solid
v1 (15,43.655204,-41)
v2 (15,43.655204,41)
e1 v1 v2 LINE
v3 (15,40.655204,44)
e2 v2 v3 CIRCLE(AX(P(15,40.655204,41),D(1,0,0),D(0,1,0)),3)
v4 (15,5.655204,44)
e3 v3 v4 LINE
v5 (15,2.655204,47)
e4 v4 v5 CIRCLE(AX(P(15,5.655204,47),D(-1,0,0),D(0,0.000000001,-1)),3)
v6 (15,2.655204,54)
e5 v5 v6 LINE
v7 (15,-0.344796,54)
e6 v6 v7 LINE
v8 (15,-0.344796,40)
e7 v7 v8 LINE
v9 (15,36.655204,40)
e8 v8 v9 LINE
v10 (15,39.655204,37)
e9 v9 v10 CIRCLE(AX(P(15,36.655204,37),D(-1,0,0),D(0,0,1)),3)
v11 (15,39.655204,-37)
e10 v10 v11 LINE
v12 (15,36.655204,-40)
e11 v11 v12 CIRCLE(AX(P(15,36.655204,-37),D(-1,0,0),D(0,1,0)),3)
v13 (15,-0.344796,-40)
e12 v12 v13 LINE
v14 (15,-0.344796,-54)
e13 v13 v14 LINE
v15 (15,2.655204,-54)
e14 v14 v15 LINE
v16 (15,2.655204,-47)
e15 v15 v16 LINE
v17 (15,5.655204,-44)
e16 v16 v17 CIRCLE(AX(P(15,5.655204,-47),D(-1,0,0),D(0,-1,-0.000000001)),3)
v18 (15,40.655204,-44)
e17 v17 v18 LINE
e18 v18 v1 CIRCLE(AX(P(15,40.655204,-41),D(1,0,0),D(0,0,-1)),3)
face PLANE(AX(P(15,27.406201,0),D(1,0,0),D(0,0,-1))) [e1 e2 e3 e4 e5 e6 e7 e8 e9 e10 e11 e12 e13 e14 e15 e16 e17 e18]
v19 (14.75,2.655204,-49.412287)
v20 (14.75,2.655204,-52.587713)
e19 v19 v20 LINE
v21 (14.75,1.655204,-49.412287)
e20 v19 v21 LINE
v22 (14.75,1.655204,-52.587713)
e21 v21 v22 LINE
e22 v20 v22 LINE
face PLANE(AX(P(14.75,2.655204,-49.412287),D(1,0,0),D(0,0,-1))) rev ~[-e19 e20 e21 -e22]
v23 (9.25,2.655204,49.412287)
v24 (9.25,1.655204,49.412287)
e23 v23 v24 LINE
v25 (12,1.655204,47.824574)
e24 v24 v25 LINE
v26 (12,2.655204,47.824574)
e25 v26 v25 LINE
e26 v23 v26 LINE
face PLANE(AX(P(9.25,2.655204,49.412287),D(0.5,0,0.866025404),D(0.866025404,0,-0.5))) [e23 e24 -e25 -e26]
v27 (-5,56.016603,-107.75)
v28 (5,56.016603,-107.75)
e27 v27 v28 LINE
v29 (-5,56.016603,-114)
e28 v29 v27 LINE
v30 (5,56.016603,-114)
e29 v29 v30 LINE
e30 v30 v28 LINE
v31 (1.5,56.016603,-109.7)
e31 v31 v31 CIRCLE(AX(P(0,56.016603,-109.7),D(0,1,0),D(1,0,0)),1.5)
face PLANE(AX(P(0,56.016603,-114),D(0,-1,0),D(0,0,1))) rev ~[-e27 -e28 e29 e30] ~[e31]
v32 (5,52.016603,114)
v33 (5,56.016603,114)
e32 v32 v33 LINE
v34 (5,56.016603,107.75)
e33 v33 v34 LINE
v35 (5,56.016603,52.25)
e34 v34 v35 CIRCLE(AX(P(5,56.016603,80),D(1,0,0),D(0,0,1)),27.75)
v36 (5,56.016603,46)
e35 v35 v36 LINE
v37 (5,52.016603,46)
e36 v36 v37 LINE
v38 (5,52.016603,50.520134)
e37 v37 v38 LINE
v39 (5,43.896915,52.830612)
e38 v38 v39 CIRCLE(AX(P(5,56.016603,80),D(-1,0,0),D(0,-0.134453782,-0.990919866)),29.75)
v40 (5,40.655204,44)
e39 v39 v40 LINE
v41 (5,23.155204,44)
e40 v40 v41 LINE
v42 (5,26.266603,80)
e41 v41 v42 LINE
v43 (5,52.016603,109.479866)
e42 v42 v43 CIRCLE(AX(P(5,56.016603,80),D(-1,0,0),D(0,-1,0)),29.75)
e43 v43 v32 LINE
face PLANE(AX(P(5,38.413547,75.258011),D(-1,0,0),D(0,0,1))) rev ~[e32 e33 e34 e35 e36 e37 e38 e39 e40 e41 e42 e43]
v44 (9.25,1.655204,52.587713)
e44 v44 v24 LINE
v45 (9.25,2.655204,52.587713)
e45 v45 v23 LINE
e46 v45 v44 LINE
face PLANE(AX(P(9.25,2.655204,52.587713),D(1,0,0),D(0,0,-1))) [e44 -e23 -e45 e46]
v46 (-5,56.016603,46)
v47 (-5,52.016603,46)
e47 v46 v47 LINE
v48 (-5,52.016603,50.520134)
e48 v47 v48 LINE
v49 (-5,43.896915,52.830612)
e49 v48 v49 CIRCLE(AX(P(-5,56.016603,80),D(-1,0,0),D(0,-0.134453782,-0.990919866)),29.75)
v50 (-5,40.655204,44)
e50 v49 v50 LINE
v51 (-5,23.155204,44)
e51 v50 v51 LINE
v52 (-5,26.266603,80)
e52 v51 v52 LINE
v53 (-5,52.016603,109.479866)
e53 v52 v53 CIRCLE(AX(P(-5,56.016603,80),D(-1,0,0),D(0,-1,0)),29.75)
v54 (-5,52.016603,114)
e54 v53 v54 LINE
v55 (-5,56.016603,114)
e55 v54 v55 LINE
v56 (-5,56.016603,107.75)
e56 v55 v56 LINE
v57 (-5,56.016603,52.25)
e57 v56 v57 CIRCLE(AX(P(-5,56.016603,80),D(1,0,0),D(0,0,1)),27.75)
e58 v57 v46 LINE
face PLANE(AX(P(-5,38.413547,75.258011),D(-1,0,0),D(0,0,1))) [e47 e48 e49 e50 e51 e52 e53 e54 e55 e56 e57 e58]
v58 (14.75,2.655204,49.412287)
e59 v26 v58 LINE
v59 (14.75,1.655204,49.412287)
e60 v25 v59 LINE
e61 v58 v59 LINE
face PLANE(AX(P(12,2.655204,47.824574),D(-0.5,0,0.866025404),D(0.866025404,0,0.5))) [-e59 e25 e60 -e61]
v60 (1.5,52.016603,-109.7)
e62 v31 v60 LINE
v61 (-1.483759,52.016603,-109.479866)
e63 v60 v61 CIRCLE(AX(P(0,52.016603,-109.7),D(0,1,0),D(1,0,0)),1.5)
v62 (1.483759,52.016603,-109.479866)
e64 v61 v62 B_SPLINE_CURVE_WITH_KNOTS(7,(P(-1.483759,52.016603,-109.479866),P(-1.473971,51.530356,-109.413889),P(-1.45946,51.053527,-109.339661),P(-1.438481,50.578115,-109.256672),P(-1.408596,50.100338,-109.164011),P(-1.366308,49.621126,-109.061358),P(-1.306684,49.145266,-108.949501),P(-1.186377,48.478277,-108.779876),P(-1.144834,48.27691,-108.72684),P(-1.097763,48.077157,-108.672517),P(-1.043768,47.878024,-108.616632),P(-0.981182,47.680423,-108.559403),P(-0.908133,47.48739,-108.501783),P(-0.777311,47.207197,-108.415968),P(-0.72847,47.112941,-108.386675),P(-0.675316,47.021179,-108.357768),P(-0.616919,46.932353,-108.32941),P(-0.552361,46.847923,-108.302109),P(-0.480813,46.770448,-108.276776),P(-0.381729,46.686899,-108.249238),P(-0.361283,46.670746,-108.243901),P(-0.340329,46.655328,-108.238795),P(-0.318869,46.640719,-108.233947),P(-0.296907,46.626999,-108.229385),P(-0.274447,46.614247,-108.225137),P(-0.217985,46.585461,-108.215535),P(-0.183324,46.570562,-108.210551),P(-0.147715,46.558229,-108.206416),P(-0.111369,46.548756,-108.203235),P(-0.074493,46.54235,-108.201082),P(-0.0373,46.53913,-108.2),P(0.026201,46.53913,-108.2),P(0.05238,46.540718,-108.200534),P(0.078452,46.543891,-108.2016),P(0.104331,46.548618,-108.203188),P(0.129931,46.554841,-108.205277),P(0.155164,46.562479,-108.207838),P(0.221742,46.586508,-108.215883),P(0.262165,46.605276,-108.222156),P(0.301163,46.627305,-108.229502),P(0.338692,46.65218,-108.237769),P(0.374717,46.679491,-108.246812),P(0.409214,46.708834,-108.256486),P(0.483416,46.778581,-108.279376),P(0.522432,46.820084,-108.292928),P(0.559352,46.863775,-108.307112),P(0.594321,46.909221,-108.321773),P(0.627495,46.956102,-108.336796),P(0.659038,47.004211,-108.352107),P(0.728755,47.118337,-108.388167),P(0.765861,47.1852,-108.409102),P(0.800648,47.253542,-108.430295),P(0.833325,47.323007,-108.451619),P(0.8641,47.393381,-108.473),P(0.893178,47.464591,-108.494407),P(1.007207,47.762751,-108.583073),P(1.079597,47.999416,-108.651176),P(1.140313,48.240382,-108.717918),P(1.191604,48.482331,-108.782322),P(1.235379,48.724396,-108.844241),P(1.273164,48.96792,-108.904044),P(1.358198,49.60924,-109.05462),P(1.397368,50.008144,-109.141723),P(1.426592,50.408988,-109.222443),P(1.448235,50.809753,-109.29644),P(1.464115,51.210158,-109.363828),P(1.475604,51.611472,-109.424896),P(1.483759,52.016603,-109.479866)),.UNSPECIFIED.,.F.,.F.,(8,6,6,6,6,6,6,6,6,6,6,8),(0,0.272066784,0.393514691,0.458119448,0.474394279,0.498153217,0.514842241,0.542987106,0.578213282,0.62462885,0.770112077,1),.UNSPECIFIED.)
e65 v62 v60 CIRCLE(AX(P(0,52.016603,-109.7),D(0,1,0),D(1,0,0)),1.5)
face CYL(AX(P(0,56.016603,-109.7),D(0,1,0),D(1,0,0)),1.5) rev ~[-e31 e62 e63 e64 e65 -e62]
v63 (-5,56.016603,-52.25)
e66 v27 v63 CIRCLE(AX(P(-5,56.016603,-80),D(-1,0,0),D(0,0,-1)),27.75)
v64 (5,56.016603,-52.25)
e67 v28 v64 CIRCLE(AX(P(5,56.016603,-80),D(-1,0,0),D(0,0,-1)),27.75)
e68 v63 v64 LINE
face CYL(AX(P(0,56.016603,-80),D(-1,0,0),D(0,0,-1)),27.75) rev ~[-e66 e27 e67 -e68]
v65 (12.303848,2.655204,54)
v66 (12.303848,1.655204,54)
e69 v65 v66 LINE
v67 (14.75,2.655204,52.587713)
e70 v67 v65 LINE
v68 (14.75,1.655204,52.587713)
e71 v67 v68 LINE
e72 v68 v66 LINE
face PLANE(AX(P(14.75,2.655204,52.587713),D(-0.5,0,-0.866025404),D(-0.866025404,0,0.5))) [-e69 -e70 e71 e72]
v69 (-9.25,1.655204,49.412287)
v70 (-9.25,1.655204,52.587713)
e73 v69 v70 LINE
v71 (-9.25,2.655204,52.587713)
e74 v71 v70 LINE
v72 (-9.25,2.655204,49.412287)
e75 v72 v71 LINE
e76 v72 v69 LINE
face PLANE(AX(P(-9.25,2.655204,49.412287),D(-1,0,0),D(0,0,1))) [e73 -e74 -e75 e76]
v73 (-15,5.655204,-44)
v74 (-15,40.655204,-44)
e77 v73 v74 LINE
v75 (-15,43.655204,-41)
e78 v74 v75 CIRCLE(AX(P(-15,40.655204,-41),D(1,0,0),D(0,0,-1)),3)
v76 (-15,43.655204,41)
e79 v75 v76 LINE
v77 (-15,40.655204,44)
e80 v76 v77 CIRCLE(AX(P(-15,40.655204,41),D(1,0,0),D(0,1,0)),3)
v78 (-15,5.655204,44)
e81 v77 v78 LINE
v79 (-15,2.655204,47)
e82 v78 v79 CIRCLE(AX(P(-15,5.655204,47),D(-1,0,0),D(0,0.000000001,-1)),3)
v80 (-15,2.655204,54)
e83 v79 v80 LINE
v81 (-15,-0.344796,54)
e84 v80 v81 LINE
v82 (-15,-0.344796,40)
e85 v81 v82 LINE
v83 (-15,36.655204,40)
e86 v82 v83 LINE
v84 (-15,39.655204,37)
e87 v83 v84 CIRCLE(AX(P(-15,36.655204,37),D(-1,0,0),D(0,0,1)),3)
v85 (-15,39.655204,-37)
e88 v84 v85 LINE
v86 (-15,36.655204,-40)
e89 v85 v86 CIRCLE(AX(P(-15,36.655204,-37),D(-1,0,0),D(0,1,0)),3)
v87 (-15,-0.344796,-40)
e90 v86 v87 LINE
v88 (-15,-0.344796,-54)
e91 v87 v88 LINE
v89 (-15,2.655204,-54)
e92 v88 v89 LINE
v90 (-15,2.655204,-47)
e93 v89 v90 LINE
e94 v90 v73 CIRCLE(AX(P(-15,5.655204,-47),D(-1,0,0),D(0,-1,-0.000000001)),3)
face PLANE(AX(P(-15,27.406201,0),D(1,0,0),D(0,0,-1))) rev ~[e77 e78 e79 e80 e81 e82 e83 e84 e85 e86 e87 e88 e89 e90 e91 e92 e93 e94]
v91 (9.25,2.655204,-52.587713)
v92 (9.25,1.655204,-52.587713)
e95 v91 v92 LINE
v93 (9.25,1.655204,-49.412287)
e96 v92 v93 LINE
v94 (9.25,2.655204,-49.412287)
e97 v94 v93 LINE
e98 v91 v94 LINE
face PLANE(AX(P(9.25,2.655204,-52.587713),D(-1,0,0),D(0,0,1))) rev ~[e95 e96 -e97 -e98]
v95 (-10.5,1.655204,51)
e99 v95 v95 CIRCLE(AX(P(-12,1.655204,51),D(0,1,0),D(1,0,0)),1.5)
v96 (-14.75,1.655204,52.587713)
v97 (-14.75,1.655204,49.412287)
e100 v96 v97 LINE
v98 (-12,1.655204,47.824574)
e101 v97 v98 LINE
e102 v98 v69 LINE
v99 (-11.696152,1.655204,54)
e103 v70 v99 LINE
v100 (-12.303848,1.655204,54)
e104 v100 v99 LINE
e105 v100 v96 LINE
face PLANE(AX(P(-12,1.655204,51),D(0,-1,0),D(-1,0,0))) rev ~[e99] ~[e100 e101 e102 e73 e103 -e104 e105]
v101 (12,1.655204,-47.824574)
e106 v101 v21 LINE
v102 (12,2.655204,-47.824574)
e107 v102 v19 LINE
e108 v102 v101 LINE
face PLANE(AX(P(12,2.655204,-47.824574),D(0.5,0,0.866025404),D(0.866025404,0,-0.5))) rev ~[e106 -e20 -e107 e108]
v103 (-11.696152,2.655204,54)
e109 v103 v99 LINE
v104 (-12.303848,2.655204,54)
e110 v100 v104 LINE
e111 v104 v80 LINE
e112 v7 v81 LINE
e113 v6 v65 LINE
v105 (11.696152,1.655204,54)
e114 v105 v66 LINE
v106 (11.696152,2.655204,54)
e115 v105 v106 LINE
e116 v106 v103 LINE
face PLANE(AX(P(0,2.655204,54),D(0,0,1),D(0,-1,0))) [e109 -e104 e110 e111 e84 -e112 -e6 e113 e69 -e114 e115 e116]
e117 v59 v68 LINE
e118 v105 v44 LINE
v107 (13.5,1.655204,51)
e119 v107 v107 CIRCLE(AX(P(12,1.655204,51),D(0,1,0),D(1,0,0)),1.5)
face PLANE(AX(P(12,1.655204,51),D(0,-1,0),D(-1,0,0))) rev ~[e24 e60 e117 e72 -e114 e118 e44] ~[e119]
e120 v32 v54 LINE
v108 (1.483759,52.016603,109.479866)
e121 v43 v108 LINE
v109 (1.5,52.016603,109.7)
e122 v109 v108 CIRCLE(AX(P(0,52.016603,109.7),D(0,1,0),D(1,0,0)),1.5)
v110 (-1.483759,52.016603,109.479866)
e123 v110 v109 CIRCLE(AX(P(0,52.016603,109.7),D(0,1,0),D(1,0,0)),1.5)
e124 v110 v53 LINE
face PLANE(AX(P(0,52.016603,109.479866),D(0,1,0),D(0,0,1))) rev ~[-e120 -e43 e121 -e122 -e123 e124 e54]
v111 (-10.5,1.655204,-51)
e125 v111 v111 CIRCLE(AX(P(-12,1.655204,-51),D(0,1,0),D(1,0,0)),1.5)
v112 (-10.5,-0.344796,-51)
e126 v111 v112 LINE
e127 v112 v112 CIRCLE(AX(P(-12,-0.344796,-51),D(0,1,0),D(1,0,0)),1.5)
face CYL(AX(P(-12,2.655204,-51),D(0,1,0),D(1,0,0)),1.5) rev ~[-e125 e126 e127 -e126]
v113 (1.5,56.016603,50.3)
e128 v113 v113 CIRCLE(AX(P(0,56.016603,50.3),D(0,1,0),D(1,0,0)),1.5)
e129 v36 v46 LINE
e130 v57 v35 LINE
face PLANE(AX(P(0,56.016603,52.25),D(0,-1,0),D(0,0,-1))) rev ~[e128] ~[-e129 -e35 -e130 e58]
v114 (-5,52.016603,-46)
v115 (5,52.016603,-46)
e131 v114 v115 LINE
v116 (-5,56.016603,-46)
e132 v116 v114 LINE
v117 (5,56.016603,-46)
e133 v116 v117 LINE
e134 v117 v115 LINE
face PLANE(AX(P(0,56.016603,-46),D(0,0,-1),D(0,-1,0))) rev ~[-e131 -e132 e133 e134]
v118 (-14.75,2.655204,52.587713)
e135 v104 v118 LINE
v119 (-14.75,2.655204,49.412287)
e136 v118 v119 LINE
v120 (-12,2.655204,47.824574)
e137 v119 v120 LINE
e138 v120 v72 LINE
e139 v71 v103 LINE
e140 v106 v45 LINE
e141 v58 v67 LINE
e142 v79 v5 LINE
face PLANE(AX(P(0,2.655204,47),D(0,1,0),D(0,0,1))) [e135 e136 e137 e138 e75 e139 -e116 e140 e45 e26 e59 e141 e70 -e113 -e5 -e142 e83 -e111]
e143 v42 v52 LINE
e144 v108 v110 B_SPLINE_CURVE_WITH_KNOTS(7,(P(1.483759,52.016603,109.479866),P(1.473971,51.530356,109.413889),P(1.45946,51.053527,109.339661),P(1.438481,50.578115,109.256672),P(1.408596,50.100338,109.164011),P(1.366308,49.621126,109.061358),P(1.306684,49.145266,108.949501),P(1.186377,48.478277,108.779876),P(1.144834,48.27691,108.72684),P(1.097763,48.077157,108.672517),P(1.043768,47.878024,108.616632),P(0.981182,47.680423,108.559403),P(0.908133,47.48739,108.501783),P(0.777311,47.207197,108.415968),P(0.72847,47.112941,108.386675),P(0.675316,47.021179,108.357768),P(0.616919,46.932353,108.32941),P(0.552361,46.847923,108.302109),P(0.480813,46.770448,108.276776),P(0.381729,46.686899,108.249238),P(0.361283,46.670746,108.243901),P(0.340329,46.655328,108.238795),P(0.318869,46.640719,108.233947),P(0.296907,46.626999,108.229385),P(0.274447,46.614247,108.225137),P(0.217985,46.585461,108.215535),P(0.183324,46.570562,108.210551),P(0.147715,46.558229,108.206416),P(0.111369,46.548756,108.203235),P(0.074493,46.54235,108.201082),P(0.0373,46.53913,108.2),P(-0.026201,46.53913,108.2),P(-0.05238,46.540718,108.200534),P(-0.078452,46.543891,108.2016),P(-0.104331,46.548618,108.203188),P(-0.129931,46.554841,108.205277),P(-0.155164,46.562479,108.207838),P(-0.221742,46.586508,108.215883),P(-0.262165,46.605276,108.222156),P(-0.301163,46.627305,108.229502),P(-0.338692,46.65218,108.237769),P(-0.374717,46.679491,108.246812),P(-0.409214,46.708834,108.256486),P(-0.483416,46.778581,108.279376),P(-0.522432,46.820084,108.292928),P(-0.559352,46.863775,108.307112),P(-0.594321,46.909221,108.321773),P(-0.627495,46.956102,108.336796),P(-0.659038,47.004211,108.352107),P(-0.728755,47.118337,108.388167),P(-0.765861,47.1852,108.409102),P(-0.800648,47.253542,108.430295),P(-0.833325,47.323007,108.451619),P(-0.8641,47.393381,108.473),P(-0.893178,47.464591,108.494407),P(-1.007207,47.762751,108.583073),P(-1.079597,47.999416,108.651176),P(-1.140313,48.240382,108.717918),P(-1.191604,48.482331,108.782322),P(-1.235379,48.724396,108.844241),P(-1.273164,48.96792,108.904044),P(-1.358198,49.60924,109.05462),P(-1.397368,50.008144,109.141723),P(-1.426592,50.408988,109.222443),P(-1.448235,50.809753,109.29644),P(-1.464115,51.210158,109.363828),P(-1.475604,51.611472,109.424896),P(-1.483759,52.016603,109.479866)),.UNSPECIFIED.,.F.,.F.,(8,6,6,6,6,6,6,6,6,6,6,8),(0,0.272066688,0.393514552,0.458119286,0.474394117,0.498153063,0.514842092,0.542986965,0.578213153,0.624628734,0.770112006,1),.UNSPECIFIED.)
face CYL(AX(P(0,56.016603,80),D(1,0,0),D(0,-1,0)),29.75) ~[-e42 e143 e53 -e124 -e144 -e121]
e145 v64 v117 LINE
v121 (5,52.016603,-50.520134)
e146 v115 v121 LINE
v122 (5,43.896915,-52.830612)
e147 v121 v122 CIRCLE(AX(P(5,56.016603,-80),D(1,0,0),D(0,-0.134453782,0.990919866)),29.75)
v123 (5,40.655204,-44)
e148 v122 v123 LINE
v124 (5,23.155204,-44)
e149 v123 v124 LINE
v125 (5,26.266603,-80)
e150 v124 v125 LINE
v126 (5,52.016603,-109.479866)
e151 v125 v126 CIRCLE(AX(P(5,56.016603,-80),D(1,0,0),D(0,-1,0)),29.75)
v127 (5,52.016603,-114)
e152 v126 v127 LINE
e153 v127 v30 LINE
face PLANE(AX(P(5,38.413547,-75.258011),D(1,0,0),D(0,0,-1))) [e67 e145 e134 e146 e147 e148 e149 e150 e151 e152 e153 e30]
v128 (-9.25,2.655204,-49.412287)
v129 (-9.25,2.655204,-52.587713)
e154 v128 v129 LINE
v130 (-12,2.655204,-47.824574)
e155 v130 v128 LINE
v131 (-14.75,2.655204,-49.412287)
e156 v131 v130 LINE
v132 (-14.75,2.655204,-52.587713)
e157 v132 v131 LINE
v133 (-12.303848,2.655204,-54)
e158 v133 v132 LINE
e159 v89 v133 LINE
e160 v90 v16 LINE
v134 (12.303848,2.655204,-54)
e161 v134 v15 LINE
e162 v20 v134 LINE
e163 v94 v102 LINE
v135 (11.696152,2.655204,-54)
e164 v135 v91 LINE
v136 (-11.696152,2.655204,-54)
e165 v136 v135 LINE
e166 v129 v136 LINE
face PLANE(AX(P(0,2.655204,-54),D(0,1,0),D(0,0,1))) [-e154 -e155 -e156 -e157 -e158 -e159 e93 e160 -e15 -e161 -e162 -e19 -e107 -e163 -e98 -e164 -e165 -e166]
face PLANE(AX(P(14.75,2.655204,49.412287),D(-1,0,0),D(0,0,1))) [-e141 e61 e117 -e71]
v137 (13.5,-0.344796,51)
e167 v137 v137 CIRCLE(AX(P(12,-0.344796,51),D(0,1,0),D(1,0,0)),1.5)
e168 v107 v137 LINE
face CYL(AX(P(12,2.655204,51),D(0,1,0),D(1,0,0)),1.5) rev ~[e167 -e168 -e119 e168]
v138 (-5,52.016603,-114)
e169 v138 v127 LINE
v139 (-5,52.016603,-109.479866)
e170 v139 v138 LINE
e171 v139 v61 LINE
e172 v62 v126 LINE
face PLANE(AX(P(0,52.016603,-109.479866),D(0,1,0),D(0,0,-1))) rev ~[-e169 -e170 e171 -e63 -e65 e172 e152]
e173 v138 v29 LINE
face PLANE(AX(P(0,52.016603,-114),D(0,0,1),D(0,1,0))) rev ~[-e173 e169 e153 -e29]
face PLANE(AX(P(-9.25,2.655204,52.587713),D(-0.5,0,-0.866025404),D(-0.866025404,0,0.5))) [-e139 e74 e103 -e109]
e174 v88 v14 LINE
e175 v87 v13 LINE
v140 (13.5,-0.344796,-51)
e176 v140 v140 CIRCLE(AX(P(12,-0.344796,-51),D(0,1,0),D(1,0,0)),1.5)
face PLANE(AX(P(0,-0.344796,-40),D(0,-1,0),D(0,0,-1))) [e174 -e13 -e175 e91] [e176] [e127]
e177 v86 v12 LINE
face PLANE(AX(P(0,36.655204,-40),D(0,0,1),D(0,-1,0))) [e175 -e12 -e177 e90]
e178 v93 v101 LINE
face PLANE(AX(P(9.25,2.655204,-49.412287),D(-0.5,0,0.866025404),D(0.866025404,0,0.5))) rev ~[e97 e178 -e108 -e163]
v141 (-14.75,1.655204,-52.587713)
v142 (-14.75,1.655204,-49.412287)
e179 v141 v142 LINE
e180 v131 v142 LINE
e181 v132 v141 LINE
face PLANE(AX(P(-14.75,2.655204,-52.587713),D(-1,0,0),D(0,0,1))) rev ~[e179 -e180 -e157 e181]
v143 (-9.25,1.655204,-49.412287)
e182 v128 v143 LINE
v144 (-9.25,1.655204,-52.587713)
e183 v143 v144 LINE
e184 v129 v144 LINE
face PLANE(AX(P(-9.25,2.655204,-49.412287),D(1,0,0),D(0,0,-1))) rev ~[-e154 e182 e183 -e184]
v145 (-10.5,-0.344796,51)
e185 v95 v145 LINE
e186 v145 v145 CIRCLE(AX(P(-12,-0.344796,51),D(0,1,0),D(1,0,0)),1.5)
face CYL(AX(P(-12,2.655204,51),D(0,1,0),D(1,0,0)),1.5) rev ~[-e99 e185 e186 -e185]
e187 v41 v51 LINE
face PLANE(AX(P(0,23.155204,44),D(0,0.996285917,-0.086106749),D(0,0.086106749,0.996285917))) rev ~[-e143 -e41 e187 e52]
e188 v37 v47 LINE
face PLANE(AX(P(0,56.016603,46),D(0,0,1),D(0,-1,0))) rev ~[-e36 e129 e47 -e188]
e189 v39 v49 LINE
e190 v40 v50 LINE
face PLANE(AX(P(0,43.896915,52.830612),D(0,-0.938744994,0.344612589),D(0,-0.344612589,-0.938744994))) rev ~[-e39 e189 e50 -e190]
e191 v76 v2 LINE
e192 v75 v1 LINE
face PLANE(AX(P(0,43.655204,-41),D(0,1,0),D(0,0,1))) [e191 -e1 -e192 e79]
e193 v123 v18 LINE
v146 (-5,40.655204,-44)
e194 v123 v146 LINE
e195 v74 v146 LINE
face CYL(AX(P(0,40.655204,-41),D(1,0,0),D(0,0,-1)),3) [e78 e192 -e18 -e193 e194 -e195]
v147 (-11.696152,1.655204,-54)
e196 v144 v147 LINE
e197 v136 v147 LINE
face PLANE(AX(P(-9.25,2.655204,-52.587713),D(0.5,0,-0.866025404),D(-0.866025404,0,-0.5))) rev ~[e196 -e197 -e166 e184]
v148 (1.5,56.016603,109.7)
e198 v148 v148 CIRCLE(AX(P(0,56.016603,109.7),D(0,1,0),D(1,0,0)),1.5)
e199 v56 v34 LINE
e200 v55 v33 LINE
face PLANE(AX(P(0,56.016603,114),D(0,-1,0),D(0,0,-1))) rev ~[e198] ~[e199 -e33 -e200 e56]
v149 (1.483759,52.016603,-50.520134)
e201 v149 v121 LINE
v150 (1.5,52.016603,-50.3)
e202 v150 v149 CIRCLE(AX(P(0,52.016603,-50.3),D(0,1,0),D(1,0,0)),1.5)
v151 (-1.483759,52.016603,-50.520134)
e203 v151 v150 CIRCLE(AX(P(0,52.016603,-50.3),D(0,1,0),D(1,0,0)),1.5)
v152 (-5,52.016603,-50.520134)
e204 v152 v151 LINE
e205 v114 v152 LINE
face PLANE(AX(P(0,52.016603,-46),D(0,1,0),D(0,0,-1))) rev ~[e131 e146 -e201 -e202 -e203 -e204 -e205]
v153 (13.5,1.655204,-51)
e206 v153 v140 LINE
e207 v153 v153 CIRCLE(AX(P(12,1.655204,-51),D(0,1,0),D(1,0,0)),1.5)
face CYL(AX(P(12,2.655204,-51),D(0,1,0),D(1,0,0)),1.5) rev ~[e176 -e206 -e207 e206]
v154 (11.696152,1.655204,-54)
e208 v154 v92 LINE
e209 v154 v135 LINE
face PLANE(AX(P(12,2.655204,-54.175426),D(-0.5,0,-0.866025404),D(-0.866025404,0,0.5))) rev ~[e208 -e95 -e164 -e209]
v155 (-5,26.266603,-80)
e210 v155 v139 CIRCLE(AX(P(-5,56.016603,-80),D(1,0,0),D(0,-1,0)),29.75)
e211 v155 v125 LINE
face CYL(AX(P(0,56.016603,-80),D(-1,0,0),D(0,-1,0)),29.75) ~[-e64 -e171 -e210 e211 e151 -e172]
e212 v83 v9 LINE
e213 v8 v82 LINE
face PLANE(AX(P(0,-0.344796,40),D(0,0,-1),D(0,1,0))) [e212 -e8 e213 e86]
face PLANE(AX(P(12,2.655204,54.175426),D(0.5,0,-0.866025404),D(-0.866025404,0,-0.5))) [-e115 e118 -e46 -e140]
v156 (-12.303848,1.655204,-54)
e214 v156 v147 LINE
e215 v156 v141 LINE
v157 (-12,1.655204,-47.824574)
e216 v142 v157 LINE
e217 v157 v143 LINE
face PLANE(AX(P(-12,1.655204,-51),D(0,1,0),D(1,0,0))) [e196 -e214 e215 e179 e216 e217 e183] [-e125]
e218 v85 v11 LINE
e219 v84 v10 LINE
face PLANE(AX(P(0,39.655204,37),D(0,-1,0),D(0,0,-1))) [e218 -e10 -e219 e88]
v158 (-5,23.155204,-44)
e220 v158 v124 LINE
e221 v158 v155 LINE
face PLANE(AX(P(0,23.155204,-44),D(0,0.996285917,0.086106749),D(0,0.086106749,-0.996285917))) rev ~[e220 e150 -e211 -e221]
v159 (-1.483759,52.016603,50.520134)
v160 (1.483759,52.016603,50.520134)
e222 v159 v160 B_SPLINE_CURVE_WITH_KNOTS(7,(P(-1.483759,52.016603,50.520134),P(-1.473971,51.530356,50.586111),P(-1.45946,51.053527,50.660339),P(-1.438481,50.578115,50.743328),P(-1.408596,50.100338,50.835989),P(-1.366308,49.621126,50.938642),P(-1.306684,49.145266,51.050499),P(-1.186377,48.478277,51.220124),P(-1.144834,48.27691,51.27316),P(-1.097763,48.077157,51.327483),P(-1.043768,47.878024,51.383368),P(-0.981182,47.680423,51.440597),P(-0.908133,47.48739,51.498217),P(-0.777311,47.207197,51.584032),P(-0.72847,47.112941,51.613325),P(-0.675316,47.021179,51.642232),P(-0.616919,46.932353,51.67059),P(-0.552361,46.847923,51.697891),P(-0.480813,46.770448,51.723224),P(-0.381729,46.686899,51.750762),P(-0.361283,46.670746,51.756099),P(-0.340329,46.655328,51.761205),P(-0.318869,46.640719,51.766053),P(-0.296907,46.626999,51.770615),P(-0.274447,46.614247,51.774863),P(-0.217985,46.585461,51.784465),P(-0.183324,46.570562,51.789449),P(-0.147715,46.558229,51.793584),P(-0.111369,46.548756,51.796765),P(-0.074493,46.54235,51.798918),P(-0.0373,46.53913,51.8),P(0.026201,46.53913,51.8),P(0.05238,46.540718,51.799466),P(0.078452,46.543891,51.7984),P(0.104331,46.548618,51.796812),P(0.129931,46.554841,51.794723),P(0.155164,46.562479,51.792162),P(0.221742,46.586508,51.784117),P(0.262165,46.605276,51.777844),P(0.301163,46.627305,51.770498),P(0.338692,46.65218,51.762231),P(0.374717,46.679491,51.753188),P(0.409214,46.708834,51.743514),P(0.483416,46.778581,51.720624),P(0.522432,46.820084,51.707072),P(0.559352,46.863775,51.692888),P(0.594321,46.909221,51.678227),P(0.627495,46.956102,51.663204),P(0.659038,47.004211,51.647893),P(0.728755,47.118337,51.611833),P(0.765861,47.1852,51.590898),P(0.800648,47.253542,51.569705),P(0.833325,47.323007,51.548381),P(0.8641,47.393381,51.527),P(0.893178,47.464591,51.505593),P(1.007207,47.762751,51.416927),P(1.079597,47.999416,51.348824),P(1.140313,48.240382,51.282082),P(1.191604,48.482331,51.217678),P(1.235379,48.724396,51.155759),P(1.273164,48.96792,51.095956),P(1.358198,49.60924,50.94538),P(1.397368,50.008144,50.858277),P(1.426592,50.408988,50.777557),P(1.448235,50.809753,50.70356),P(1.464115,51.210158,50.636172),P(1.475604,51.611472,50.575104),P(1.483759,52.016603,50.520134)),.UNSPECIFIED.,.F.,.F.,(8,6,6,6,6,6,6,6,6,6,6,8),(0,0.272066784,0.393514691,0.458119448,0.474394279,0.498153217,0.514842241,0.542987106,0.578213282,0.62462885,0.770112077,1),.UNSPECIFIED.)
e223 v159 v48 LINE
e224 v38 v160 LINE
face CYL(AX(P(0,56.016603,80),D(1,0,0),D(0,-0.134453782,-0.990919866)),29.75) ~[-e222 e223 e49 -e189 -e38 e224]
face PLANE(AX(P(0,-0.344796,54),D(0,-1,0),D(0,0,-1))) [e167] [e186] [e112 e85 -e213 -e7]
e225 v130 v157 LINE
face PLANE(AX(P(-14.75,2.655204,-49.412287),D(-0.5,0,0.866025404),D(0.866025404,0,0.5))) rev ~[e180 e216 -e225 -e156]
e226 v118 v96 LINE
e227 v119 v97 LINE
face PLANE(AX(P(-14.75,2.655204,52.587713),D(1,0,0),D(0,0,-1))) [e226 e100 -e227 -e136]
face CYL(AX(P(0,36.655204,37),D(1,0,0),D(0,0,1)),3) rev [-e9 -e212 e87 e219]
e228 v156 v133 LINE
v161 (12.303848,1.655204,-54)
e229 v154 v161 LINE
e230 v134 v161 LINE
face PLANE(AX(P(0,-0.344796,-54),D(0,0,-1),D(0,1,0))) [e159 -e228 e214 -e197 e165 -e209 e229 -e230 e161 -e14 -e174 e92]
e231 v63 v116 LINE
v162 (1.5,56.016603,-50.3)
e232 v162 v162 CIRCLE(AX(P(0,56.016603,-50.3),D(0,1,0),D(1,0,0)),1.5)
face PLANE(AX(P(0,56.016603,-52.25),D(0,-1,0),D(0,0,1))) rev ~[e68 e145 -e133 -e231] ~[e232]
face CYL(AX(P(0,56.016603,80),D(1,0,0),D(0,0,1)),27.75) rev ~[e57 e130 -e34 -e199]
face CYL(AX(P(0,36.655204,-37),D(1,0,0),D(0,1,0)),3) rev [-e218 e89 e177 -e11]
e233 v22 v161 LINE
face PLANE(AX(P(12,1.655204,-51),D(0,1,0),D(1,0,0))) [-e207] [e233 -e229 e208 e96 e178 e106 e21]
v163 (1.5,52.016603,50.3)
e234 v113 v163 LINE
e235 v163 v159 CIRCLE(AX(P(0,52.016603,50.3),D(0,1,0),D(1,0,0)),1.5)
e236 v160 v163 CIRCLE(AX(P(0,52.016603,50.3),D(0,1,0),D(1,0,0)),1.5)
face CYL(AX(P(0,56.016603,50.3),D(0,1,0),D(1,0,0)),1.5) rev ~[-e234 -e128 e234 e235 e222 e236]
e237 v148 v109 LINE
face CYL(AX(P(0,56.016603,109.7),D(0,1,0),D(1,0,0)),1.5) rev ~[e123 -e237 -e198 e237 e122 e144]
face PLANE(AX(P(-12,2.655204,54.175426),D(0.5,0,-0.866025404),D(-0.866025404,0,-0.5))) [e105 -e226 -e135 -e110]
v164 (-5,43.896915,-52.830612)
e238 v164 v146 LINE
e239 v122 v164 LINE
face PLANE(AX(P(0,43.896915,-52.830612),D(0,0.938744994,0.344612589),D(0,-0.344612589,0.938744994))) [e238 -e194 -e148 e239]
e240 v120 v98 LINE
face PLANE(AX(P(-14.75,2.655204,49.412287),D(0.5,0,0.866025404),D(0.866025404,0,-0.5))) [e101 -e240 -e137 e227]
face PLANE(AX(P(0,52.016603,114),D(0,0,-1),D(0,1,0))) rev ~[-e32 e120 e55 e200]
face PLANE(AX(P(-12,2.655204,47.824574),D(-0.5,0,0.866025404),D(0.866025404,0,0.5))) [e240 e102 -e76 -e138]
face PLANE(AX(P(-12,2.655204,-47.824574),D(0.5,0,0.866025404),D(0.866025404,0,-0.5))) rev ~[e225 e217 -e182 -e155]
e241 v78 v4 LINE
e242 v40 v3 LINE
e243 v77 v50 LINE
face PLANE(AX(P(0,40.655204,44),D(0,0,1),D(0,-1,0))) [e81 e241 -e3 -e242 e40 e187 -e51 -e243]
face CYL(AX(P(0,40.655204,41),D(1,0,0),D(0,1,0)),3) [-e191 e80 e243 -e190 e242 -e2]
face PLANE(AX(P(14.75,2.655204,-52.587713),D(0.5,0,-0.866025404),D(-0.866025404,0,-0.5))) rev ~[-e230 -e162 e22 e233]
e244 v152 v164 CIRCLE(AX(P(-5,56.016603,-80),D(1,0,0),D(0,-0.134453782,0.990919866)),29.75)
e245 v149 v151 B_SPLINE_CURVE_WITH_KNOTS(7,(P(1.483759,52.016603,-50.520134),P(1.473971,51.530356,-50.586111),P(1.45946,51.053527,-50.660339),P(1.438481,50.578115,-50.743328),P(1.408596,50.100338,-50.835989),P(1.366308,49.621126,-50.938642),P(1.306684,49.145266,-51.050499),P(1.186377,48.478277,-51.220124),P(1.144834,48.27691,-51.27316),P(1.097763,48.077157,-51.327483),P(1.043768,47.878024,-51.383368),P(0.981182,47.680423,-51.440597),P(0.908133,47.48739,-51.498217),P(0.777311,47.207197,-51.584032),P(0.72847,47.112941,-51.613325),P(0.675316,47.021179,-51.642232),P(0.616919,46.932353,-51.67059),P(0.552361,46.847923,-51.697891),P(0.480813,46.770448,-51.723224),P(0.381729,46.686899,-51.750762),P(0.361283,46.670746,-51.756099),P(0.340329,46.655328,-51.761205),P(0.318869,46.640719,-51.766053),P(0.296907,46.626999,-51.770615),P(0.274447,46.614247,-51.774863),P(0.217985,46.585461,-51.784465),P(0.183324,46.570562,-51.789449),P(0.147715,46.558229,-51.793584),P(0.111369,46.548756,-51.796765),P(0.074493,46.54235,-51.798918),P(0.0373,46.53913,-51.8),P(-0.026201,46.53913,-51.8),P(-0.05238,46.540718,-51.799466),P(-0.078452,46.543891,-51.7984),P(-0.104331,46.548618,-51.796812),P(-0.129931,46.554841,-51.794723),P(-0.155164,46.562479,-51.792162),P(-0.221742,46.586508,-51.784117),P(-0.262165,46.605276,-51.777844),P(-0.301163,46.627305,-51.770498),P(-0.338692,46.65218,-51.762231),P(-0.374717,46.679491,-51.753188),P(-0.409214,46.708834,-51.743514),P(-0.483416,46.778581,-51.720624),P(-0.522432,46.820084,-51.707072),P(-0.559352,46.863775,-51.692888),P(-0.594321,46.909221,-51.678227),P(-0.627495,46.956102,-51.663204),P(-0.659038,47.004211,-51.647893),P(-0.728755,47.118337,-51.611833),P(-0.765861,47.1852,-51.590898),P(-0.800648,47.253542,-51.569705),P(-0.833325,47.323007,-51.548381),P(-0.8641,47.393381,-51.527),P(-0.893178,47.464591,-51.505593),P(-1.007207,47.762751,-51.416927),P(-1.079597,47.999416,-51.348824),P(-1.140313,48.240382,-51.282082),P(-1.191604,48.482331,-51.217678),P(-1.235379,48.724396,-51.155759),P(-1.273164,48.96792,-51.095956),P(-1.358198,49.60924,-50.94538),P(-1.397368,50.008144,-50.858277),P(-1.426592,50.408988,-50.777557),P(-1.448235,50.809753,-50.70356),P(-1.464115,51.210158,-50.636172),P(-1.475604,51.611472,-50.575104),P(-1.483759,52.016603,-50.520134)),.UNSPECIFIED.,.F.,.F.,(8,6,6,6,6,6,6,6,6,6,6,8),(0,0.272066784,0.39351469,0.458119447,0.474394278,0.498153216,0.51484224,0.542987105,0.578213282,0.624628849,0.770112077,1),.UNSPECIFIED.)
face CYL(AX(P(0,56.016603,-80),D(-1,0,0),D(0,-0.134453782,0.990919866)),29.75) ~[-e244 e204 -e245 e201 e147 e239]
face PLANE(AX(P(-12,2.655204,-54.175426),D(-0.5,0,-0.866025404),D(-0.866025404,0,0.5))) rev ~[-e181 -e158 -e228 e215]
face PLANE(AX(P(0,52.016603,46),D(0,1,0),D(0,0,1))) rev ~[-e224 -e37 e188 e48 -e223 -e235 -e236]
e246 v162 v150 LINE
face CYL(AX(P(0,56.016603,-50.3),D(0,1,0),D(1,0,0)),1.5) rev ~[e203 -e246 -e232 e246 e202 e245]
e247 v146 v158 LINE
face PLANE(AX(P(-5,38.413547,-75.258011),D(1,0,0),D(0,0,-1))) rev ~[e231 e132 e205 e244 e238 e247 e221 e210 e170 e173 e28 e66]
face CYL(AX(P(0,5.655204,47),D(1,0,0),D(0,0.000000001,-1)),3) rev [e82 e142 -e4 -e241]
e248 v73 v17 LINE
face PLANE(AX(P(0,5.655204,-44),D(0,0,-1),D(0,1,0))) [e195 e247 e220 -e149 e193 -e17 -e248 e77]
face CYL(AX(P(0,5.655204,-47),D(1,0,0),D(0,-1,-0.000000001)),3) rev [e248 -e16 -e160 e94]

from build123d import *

# Parameters (mm, degrees)
EXTRUDE_1_DEPTH      = 15
EXTRUDE_1_DEPTH_BACK = 15
EXTRUDE_2_DEPTH      = 5
EXTRUDE_2_DEPTH_BACK = 5
EXTRUDE_2_START      = -15
SKETCH_3_R           = 1.5
CUT_EXTRUDE_1_DEPTH  = 11
SKETCH_4_R           = 1.5
CUT_EXTRUDE_2_DEPTH  = 11
CUT_EXTRUDE_3_DEPTH  = 1


with BuildPart() as part:
    # 草图1 → 凸台-拉伸1 (new, two sides: drawn at the far end of the back side and taken through both)
    with BuildSketch(Plane(origin=(0, 0, 0), x_dir=(0, 0, -1), z_dir=(1, 0, 0)).offset(-EXTRUDE_1_DEPTH_BACK)):
        with BuildLine():
            Line((-40, -0.344795888), (-40, 36.655204112))
            ThreePointArc((-40, 36.655204112), (-39.121320344, 38.776524455), (-37, 39.655204112))
            Line((-37, 39.655204112), (37, 39.655204112))
            ThreePointArc((37, 39.655204112), (39.121320344, 38.776524455), (40, 36.655204112))
            Line((40, 36.655204112), (40, -0.344795888))
            Line((40, -0.344795888), (54, -0.344795888))
            Line((54, -0.344795888), (54, 2.655204112))
            Line((54, 2.655204112), (47, 2.655204112))
            ThreePointArc((47, 2.655204112), (44.878679656, 3.533883768), (44, 5.655204112))
            Line((44, 5.655204112), (44, 40.655204112))
            ThreePointArc((44, 40.655204112), (43.121320344, 42.776524455), (41, 43.655204112))
            Line((41, 43.655204112), (-41, 43.655204112))
            ThreePointArc((-41, 43.655204112), (-43.121320344, 42.776524455), (-44, 40.655204112))
            Line((-44, 40.655204112), (-44, 5.655204112))
            ThreePointArc((-44, 5.655204112), (-44.878679656, 3.533883768), (-47, 2.655204112))
            Line((-47, 2.655204112), (-54, 2.655204112))
            Line((-54, 2.655204112), (-54, -0.344795888))
            Line((-54, -0.344795888), (-40, -0.344795888))
        make_face()
    extrude(amount=EXTRUDE_1_DEPTH + EXTRUDE_1_DEPTH_BACK)

    # 草图2 → 凸台-拉伸2 (add, two sides: drawn at the far end of the back side and taken through both)
    with BuildSketch(Plane(origin=(15, 0, 0), x_dir=(0, 0, -1), z_dir=(1, 0, 0)).offset(EXTRUDE_2_START - EXTRUDE_2_DEPTH_BACK)):
        with BuildLine():
            Line((-52.25, 56.016603057), (-46, 56.016603057))
            Line((-46, 56.016603057), (-46, 52.016603057))
            Line((-46, 52.016603057), (-50.520133989, 52.016603057))
            ThreePointArc((-50.520133989, 52.016603057), (-51.385897915, 47.874388257), (-52.830611648, 43.896915082))
            Line((-52.830611648, 43.896915082), (-44, 40.655204112))
            Line((-44, 40.655204112), (-44, 23.155204112))
            Line((-44, 23.155204112), (-80, 26.266603057))
            ThreePointArc((-80, 26.266603057), (-99.571184175, 33.610549187), (-109.479866011, 52.016603057))
            Line((-109.479866011, 52.016603057), (-114, 52.016603057))
            Line((-114, 52.016603057), (-114, 56.016603057))
            Line((-114, 56.016603057), (-107.75, 56.016603057))
            ThreePointArc((-107.75, 56.016603057), (-80, 28.266603057), (-52.25, 56.016603057))
        make_face()
        with BuildLine():
            Line((52.830611648, 43.896915082), (44, 40.655204112))
            Line((44, 40.655204112), (44, 23.155204112))
            Line((44, 23.155204112), (80, 26.266603057))
            ThreePointArc((80, 26.266603057), (99.571184175, 33.610549187), (109.479866011, 52.016603057))
            Line((109.479866011, 52.016603057), (114, 52.016603057))
            Line((114, 52.016603057), (114, 56.016603057))
            Line((114, 56.016603057), (107.75, 56.016603057))
            ThreePointArc((107.75, 56.016603057), (80, 28.266603057), (52.25, 56.016603057))
            Line((52.25, 56.016603057), (46, 56.016603057))
            Line((46, 56.016603057), (46, 52.016603057))
            Line((46, 52.016603057), (50.520133989, 52.016603057))
            ThreePointArc((50.520133989, 52.016603057), (51.385897915, 47.874388257), (52.830611648, 43.896915082))
        make_face()
    extrude(amount=EXTRUDE_2_DEPTH + EXTRUDE_2_DEPTH_BACK)

    # 草图3 → 切除-拉伸1 (cut)
    with BuildSketch(Plane(origin=(0, 56.016603057, 0), x_dir=(1, 0, 0), z_dir=(0, 1, 0))):
        with Locations((0, 109.7)):
            Circle(SKETCH_3_R)
        with Locations((0, 50.3)):
            Circle(SKETCH_3_R)
        with Locations((0, -50.3)):
            Circle(SKETCH_3_R)
        with Locations((0, -109.7)):
            Circle(SKETCH_3_R)
    extrude(amount=-CUT_EXTRUDE_1_DEPTH, mode=Mode.SUBTRACT)

    # 草图4 → 切除-拉伸2 (cut)
    with BuildSketch(Plane(origin=(0, 2.655204112, 0), x_dir=(1, 0, 0), z_dir=(0, 1, 0))):
        with Locations((-12, -51)):
            Circle(SKETCH_4_R)
        with Locations((12, -51)):
            Circle(SKETCH_4_R)
        with Locations((12, 51)):
            Circle(SKETCH_4_R)
        with Locations((-12, 51)):
            Circle(SKETCH_4_R)
    extrude(amount=-CUT_EXTRUDE_2_DEPTH, mode=Mode.SUBTRACT)

    # 草图5 → 切除-拉伸3 (cut)
    with BuildSketch(Plane(origin=(0, 2.655204112, 0), x_dir=(1, 0, 0), z_dir=(0, 1, 0))):
        Polygon((-12, 54.175426481), (-14.75, 52.58771324), (-14.75, 49.41228676), (-12, 47.824573519), (-9.25, 49.41228676), (-9.25, 52.58771324), align=None)
        Polygon((12, 54.175426481), (9.25, 52.58771324), (9.25, 49.41228676), (12, 47.824573519), (14.75, 49.41228676), (14.75, 52.58771324), align=None)
        Polygon((14.75, -52.58771324), (12, -54.175426481), (9.25, -52.58771324), (9.25, -49.41228676), (12, -47.824573519), (14.75, -49.41228676), align=None)
        Polygon((-9.25, -52.58771324), (-12, -54.175426481), (-14.75, -52.58771324), (-14.75, -49.41228676), (-12, -47.824573519), (-9.25, -49.41228676), align=None)
    extrude(amount=-CUT_EXTRUDE_3_DEPTH, mode=Mode.SUBTRACT)


solid = part.part
